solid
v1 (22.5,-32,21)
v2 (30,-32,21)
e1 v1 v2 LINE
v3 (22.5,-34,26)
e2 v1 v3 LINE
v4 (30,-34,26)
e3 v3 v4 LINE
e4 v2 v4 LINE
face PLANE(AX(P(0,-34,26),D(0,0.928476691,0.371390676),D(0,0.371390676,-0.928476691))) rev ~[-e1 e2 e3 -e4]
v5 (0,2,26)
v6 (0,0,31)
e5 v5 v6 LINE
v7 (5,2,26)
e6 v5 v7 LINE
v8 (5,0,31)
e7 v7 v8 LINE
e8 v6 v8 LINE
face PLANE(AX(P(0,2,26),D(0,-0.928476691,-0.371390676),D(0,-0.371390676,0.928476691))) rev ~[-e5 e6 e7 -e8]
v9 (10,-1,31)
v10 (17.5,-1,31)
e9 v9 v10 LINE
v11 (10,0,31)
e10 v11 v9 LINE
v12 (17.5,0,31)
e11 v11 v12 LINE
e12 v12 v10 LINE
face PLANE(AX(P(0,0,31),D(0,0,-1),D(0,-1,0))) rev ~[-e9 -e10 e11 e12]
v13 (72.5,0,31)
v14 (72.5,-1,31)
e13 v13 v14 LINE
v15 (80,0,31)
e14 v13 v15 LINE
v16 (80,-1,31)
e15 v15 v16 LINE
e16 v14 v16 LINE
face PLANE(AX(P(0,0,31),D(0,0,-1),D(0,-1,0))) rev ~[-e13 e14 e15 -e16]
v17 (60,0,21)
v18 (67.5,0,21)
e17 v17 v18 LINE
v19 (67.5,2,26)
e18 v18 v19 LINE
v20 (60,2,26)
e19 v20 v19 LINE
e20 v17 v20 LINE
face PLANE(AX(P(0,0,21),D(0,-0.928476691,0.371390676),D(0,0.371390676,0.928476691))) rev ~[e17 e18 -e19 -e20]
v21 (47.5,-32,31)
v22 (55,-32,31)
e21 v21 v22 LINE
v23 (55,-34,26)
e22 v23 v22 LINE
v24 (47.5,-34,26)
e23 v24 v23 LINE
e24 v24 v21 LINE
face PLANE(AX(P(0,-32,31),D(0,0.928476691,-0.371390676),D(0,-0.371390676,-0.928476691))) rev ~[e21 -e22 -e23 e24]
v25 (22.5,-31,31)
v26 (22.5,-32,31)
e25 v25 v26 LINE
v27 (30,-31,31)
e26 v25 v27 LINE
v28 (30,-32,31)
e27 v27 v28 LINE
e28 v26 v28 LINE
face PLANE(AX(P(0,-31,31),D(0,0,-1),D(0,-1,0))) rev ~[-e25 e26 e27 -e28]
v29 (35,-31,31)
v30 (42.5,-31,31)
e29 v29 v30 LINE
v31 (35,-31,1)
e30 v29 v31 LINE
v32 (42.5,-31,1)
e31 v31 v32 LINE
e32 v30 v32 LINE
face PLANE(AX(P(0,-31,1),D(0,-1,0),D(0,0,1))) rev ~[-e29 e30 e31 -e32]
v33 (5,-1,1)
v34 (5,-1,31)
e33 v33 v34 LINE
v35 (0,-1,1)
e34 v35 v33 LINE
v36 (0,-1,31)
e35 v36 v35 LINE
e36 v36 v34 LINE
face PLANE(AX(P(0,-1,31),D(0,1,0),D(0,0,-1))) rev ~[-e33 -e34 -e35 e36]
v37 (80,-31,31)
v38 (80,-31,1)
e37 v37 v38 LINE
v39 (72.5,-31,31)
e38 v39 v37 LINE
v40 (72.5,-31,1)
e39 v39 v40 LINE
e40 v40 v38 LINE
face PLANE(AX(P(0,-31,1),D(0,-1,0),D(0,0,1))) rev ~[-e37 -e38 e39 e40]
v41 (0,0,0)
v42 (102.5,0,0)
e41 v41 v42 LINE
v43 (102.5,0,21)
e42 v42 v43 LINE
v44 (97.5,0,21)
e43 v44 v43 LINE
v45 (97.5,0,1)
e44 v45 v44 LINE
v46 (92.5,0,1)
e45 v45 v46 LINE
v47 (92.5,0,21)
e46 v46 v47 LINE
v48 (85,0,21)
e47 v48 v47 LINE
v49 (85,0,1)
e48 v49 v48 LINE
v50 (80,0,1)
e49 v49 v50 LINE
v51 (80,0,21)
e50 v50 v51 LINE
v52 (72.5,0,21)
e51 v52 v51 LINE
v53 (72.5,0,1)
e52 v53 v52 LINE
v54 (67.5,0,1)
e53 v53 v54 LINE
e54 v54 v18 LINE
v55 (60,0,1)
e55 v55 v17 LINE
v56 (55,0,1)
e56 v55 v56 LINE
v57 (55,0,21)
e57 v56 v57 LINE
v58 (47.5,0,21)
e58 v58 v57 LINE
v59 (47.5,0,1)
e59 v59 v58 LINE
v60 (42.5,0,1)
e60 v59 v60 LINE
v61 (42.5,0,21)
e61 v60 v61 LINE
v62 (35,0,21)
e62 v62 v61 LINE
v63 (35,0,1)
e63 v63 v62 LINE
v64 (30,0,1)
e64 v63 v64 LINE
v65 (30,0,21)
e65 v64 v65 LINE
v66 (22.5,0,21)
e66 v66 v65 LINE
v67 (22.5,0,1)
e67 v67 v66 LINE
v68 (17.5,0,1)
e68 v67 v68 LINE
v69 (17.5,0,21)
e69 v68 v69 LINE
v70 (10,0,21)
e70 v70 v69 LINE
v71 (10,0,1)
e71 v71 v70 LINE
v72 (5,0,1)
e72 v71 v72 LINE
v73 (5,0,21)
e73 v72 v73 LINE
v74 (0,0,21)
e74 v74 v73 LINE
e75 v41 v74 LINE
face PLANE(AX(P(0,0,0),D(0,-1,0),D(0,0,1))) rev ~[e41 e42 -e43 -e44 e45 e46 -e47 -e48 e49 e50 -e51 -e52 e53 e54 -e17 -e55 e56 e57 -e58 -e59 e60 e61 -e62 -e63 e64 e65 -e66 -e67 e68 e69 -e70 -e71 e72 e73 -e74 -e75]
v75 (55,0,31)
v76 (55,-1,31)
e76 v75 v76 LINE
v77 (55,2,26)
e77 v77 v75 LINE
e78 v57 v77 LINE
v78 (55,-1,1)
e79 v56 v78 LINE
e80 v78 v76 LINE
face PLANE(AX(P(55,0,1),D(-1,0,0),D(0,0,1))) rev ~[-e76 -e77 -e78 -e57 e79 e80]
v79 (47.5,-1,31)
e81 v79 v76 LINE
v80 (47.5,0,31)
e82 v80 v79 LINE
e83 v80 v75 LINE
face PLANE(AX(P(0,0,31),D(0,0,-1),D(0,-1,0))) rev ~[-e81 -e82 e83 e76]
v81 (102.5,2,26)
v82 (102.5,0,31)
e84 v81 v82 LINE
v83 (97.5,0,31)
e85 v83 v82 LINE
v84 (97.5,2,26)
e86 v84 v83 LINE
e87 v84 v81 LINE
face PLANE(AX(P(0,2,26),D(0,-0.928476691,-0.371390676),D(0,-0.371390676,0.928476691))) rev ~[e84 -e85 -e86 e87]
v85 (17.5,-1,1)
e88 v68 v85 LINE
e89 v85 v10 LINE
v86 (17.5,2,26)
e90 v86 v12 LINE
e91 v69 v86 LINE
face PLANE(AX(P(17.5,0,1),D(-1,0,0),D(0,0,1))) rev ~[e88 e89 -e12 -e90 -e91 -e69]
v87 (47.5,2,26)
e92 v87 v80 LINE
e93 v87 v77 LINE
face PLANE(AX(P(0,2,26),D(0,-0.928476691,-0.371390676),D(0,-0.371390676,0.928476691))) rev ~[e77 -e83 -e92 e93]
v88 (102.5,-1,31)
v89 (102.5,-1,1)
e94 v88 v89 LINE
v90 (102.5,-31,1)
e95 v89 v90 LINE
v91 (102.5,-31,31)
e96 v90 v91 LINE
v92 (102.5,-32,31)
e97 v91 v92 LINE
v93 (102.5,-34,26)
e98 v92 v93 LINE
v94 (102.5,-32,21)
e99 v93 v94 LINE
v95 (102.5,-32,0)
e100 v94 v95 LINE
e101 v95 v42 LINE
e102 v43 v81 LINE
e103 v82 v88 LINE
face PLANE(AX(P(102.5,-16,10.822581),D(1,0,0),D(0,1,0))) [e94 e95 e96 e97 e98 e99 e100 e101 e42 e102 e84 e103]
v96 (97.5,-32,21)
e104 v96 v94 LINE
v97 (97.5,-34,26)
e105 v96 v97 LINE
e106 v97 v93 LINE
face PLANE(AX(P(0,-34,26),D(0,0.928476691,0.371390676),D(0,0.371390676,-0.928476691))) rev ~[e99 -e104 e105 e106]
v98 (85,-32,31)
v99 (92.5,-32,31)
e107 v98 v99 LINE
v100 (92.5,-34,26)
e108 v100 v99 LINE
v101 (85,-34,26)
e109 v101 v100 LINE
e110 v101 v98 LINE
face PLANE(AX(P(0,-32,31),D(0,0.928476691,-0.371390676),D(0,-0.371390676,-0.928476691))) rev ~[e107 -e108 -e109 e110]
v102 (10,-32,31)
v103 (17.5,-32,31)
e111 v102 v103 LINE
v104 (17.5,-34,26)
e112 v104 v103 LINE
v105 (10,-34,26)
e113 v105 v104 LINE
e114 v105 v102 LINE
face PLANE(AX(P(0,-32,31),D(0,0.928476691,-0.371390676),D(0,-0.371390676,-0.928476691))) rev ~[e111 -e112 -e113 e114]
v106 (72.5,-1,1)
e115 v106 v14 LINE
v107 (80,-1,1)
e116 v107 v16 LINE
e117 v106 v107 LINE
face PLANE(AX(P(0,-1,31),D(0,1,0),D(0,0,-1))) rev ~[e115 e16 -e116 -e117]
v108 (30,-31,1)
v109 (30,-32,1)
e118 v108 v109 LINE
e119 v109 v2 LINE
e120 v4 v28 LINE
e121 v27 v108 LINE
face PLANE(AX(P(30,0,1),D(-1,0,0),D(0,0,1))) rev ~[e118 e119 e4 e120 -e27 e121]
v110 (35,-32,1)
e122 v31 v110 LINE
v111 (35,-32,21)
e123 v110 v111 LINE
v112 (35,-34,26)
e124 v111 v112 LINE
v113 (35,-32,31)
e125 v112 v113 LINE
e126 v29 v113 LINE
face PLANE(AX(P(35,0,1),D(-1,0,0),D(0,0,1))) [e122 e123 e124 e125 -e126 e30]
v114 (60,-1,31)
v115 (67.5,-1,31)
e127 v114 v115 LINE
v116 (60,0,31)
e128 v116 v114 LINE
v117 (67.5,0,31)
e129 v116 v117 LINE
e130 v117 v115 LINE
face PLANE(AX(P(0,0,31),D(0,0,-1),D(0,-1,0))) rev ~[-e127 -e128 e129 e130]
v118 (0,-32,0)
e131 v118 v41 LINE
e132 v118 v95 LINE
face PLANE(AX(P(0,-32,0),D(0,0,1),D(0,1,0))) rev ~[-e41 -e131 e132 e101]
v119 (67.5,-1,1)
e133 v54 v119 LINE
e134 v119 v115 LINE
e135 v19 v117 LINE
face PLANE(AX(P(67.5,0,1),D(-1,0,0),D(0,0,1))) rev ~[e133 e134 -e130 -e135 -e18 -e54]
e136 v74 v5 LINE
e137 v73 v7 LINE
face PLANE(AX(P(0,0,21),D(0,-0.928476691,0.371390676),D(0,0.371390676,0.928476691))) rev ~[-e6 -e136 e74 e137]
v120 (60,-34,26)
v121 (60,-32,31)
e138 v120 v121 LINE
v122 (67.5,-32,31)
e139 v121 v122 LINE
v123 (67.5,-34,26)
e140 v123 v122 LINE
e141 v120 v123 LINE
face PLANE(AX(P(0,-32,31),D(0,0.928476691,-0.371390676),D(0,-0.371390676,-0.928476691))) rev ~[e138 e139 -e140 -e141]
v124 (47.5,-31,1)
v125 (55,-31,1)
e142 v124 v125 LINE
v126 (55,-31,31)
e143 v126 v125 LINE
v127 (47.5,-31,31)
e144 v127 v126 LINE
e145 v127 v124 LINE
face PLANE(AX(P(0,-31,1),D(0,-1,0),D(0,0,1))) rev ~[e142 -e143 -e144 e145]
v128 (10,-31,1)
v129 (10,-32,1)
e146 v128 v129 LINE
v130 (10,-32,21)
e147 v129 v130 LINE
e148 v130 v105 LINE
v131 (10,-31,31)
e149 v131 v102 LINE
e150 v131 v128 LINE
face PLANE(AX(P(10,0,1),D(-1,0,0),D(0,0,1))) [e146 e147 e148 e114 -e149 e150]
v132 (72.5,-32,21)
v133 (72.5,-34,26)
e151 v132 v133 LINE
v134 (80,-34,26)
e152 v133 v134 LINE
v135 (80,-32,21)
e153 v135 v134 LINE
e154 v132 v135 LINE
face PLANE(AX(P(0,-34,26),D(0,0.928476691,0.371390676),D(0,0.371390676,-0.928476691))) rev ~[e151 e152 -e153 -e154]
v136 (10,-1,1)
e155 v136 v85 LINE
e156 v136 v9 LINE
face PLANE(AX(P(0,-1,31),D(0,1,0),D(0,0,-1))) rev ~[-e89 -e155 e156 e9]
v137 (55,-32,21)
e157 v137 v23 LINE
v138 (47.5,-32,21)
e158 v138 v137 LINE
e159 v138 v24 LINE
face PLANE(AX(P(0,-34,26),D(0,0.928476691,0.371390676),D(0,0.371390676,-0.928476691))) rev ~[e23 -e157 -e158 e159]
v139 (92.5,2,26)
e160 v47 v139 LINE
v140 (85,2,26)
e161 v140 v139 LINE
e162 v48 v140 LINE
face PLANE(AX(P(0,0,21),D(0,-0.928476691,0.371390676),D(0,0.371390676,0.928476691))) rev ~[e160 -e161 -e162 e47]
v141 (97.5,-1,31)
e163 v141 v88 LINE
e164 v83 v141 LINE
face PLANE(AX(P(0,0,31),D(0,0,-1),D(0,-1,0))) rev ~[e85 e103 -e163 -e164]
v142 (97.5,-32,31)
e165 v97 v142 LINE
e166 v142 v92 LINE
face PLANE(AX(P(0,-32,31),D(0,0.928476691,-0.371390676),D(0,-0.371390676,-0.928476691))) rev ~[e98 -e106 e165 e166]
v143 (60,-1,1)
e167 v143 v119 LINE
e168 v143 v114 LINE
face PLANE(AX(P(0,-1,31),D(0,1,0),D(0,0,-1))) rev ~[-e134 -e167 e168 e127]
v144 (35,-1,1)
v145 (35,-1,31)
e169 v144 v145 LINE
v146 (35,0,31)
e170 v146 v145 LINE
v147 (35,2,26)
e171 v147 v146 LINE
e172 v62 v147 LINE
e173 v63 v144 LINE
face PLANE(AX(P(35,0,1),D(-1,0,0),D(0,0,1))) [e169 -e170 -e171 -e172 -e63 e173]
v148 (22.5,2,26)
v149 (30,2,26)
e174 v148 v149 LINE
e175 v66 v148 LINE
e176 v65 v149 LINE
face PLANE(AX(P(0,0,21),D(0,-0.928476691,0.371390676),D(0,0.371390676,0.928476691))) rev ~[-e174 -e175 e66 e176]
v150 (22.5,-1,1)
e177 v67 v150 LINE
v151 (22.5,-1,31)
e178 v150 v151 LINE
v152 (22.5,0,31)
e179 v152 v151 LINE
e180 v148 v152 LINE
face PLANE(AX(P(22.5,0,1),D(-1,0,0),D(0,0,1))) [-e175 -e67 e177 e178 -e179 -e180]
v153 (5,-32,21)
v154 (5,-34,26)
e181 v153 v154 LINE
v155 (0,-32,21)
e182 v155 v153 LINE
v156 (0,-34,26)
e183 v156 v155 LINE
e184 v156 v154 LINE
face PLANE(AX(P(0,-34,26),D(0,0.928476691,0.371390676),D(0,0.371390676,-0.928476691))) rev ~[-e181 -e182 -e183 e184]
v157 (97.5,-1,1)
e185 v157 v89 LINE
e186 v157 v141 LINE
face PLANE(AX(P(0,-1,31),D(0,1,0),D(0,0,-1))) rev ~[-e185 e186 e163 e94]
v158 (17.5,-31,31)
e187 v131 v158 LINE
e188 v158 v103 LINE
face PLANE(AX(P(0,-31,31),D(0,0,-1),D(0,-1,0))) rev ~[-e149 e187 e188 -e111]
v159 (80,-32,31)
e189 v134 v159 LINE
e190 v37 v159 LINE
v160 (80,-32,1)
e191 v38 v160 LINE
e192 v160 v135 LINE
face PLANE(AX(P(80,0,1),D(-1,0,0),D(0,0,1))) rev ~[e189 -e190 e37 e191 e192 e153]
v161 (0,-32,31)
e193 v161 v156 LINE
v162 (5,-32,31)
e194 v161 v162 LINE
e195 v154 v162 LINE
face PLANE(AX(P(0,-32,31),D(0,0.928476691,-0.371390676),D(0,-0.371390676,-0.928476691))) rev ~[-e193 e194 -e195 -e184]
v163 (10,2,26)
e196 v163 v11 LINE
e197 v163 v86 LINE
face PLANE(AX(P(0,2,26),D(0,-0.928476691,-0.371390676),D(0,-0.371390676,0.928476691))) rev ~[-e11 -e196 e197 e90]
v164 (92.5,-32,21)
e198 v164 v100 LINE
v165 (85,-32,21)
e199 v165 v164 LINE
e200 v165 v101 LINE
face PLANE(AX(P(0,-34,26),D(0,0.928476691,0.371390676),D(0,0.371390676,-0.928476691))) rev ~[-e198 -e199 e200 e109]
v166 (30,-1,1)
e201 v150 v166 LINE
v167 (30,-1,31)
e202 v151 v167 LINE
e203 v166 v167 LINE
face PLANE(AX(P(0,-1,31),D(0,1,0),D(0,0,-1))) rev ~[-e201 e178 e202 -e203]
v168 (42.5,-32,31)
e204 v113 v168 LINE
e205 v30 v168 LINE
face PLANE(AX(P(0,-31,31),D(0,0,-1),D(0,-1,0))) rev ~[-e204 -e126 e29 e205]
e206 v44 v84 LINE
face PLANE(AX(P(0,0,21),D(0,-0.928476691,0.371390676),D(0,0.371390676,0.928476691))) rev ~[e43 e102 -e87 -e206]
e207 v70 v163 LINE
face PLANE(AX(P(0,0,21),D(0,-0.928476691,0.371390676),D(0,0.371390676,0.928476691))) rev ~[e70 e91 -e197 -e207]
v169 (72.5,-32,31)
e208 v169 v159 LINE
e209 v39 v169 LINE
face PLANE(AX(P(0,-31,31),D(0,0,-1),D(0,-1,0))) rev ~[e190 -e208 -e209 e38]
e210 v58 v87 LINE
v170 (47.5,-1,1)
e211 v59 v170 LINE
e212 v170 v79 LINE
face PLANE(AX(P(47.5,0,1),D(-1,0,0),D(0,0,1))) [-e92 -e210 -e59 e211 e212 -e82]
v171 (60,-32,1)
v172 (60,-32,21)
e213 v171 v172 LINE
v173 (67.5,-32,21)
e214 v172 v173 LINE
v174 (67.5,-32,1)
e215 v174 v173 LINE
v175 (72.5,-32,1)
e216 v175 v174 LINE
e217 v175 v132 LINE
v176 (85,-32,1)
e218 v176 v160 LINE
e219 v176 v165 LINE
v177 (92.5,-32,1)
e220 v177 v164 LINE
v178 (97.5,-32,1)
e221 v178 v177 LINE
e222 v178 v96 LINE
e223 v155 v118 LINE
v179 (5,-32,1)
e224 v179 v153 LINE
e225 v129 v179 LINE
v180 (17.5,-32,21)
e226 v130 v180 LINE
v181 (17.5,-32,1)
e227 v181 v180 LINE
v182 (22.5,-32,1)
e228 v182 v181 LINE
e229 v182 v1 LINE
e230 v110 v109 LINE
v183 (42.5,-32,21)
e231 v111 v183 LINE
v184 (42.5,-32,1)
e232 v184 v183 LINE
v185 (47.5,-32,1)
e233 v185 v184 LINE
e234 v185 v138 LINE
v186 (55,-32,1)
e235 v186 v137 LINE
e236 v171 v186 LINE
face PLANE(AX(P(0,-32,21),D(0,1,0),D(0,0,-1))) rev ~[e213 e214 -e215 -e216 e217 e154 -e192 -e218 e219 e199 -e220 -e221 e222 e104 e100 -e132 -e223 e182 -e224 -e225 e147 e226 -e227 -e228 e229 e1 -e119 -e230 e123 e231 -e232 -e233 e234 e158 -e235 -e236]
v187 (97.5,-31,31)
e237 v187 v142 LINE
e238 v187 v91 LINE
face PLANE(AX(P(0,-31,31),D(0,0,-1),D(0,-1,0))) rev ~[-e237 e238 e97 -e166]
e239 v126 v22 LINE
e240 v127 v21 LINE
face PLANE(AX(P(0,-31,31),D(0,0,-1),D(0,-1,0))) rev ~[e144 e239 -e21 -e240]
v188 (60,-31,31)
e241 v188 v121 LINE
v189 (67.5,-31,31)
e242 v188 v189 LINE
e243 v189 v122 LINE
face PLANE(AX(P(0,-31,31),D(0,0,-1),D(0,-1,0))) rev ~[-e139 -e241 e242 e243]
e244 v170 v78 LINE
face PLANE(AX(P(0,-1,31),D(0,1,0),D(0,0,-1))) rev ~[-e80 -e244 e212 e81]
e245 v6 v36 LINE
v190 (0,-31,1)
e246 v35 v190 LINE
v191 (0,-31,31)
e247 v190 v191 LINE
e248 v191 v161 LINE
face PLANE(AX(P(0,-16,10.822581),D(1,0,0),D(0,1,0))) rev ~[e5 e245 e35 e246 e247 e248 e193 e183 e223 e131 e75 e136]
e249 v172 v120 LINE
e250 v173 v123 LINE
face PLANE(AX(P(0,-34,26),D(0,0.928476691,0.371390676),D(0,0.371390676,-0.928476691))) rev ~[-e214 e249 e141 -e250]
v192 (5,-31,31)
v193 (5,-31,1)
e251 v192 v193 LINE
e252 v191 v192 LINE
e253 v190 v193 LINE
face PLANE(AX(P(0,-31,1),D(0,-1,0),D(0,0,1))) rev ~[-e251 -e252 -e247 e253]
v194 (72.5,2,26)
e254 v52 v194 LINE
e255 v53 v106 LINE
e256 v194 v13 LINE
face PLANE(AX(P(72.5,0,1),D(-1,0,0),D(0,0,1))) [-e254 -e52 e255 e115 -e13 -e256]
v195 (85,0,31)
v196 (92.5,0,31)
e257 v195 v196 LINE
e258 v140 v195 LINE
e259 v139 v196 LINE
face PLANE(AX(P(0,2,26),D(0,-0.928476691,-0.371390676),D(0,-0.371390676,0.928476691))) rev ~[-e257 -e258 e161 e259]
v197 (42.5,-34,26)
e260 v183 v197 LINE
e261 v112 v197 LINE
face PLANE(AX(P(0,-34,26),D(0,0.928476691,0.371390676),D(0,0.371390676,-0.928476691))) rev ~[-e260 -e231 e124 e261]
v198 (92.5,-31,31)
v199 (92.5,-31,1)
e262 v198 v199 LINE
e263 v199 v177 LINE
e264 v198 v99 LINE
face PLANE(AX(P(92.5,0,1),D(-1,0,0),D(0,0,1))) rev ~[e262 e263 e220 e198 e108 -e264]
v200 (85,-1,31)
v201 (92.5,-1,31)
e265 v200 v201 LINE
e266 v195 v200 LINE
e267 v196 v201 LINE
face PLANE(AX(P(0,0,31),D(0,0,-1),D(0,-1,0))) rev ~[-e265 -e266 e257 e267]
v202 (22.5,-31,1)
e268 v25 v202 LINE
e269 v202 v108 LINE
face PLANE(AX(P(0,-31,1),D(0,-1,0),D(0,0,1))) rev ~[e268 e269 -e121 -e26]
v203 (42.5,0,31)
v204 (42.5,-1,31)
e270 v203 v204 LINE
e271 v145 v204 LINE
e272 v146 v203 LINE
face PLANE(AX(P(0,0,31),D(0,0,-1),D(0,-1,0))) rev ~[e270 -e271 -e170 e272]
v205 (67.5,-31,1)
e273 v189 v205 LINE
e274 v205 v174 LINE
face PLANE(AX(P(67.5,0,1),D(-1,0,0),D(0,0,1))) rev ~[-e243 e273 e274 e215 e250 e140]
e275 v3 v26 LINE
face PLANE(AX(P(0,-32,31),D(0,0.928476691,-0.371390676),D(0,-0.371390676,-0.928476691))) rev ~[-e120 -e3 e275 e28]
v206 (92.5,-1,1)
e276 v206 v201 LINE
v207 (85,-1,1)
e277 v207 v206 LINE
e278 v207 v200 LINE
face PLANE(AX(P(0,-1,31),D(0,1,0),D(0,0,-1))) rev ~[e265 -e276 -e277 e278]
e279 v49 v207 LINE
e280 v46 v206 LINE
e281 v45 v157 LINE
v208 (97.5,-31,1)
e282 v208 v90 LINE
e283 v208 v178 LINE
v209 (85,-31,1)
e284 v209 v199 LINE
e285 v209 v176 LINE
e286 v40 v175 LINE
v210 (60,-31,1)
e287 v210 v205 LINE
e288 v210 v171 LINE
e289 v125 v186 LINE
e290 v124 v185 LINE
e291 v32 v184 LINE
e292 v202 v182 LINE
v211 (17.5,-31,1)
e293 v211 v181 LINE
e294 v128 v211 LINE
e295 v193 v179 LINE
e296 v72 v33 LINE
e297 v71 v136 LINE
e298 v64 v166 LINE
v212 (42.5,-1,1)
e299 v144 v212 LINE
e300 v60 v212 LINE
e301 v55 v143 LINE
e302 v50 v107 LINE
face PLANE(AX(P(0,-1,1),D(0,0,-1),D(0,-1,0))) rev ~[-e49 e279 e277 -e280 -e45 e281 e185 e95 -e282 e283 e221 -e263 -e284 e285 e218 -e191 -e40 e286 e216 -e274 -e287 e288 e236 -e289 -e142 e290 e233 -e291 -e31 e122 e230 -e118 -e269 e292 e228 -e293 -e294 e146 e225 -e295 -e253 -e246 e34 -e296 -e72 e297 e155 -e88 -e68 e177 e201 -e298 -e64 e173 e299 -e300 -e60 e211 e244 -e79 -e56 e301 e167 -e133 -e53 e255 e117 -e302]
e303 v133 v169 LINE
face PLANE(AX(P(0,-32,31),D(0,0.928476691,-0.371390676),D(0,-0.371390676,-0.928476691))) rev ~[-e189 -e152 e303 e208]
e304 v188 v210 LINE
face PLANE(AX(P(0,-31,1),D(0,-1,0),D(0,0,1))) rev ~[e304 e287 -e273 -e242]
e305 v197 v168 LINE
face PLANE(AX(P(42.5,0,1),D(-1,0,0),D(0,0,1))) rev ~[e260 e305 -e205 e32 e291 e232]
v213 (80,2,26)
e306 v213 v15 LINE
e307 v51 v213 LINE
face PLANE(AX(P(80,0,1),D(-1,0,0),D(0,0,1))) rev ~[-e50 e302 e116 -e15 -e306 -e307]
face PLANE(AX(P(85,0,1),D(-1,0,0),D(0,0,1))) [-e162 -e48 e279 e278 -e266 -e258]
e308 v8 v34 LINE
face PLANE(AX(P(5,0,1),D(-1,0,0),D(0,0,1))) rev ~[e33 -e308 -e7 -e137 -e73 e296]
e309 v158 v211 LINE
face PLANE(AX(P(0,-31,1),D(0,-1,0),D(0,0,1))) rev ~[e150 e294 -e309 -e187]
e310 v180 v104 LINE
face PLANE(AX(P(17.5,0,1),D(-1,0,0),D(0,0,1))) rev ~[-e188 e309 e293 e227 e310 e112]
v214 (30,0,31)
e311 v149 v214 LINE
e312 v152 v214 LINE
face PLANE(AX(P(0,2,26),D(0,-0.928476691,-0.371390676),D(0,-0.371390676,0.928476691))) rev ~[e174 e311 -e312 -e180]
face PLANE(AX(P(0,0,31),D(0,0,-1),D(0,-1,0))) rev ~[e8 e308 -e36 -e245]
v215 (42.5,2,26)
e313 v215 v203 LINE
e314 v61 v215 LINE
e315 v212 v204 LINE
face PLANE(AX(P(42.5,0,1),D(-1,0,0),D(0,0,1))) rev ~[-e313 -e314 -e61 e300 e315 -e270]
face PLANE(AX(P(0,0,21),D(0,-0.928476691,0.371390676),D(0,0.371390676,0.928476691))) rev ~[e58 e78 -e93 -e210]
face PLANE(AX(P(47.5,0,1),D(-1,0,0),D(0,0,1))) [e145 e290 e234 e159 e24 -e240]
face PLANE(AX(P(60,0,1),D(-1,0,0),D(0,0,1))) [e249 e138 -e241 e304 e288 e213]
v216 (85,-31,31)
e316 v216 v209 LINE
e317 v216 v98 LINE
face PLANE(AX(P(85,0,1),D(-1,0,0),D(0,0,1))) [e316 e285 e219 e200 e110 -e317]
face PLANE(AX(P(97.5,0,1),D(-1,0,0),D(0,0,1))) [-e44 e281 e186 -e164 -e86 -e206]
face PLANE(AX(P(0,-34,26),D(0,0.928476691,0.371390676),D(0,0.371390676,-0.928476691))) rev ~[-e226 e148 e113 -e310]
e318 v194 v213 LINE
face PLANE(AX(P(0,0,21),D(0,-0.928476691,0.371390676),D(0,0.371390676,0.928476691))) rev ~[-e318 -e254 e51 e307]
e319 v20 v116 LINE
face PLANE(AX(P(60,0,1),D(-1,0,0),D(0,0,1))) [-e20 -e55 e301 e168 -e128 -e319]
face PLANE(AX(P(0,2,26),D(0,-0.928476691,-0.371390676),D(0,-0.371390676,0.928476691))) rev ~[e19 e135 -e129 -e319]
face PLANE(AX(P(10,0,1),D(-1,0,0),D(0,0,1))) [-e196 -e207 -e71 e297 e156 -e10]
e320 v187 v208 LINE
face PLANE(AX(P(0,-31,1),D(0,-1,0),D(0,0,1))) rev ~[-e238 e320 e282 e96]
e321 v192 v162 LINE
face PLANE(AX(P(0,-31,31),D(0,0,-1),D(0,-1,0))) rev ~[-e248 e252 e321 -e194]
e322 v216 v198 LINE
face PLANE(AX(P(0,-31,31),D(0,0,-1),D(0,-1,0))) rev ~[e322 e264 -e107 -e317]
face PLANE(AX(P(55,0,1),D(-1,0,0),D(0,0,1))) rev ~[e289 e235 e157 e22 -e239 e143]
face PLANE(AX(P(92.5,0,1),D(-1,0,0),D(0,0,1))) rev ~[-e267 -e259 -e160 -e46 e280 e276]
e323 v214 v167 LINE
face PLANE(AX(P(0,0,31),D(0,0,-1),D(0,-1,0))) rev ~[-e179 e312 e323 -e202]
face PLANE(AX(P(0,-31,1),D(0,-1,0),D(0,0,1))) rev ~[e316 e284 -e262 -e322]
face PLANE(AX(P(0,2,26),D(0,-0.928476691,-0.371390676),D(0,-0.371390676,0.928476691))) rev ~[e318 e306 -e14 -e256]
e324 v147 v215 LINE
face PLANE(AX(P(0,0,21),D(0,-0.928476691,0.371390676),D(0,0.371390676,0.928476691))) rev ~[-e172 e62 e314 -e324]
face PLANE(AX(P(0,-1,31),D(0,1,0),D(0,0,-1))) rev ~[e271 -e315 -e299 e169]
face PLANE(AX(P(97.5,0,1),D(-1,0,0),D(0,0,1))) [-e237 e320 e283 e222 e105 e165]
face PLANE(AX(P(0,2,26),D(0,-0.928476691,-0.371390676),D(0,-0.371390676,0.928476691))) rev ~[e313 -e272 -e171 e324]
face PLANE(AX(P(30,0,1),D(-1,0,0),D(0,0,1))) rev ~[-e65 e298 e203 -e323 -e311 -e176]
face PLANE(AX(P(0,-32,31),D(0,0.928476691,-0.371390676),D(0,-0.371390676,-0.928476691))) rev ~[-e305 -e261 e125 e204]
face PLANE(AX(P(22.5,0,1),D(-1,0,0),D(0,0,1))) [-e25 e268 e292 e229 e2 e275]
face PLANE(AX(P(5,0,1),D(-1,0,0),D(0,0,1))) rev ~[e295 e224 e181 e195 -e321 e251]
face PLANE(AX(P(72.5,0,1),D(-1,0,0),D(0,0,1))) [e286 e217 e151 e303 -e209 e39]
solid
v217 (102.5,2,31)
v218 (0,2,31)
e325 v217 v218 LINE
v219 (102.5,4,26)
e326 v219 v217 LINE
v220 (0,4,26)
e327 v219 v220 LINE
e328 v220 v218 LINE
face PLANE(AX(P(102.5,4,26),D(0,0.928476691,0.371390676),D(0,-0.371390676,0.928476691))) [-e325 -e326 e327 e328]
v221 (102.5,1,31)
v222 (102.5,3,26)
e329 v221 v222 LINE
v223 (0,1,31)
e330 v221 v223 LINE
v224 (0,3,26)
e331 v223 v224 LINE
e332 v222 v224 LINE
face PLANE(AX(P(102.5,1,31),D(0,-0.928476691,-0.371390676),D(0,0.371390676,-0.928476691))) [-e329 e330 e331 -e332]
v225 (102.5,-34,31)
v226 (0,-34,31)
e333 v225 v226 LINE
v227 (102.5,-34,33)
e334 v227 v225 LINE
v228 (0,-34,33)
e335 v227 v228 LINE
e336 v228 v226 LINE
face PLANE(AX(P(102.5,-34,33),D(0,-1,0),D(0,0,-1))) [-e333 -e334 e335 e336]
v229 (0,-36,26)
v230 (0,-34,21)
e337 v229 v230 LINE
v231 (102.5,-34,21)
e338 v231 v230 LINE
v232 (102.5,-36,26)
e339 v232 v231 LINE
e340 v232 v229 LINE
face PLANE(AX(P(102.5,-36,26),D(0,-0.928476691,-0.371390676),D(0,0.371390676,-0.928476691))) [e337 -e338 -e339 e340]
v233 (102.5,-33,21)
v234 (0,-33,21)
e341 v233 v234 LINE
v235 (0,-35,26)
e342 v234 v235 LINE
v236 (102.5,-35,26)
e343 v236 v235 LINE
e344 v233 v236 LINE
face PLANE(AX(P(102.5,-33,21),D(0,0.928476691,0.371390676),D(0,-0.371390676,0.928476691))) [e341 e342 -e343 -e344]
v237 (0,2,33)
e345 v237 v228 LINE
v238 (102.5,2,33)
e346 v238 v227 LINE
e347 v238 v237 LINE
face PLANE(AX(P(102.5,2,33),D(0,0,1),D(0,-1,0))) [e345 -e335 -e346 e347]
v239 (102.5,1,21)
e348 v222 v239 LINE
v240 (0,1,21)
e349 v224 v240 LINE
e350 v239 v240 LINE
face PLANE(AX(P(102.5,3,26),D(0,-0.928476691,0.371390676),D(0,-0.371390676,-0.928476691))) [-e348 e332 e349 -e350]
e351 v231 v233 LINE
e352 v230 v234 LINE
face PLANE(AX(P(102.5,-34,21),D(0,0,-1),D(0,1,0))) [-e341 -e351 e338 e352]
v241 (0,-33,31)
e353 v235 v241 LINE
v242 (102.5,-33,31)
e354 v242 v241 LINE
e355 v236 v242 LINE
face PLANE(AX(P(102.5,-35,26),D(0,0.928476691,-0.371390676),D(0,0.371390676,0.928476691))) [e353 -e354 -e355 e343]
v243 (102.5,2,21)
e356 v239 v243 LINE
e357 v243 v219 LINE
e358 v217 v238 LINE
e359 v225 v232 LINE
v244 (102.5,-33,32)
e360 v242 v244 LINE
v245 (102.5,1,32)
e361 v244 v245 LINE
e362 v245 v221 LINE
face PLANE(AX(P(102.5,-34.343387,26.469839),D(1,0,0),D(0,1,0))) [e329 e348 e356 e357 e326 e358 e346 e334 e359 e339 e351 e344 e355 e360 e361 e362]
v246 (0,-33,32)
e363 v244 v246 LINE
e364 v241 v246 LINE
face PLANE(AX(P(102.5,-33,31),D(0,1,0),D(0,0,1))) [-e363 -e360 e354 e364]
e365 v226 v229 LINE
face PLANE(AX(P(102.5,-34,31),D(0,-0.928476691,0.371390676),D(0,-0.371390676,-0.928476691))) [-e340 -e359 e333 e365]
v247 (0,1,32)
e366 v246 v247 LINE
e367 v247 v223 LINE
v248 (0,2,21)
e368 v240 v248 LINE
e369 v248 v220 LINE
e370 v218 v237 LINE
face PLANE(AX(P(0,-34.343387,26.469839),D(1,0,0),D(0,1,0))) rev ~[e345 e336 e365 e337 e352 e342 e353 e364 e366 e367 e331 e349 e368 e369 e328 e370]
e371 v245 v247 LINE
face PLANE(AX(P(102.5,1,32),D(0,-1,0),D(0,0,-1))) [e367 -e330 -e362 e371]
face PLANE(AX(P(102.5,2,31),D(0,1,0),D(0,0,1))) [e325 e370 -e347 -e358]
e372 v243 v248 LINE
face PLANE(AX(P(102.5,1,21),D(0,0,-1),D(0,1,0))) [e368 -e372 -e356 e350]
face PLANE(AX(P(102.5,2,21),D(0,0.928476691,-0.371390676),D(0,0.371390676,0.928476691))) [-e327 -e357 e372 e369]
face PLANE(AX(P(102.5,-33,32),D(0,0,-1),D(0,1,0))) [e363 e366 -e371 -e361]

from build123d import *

# Parameters (mm, degrees)
F1_DEPTH = 102.5
F2_W     = 5
F2_H     = 30
F3_DEPTH = 34.001
F4_DEPTH = 2.001
F6_DEPTH = 102.5


with BuildPart() as f1:
    # F0 (on Right) → F1 (new body)
    with BuildSketch(Plane.YZ):
        Polygon((-31, 31), (-32, 31), (-32, 26), (-32, 21), (-32, 0), (0, 0), (0, 21), (0, 26), (0, 31), (-1, 31), (-1, 1), (-31, 1), align=None)
        Polygon((-32, 26), (-32, 31), (-34, 26), align=None)
        Polygon((-32, 21), (-32, 26), (-34, 26), align=None)
        Polygon((0, 26), (0, 21), (2, 26), align=None)
        Polygon((2, 26), (0, 31), (0, 26), align=None)
    extrude(amount=F1_DEPTH)

    # F2 (on face) → F3 (cut, through all)
    with BuildSketch(Plane(origin=(0, 0, 0), x_dir=(-1, 0, 0), z_dir=(0, 1, 0))):
        with Locations((-95, 16)):
            Rectangle(F2_W, F2_H)
        with Locations((-82.5, 16)):
            Rectangle(F2_W, F2_H)
        with Locations((-70, 16)):
            Rectangle(F2_W, F2_H)
        with Locations((-57.5, 16)):
            Rectangle(F2_W, F2_H)
        with Locations((-45, 16)):
            Rectangle(F2_W, F2_H)
        with Locations((-32.5, 16)):
            Rectangle(F2_W, F2_H)
        with Locations((-20, 16)):
            Rectangle(F2_W, F2_H)
        with Locations((-7.5, 16)):
            Rectangle(F2_W, F2_H)
    extrude(amount=-F3_DEPTH, mode=Mode.SUBTRACT)

    # F2 (on face) → F4 (cut, through all)
    with BuildSketch(Plane(origin=(0, 0, 0), x_dir=(-1, 0, 0), z_dir=(0, 1, 0))):
        with Locations((-95, 16)):
            Rectangle(F2_W, F2_H)
        with Locations((-82.5, 16)):
            Rectangle(F2_W, F2_H)
        with Locations((-70, 16)):
            Rectangle(F2_W, F2_H)
        with Locations((-57.5, 16)):
            Rectangle(F2_W, F2_H)
        with Locations((-45, 16)):
            Rectangle(F2_W, F2_H)
        with Locations((-32.5, 16)):
            Rectangle(F2_W, F2_H)
        with Locations((-20, 16)):
            Rectangle(F2_W, F2_H)
        with Locations((-7.5, 16)):
            Rectangle(F2_W, F2_H)
    extrude(amount=F4_DEPTH, mode=Mode.SUBTRACT)


with BuildPart() as f6:
    # F5 (on face) → F6 (new body, through all)
    with BuildSketch(Plane.YZ.offset(102.5)):
        Polygon((-34, 21), (-33, 21), (-35, 26), (-33, 31), (-33, 32), (-34, 32), (-34, 31), (-36, 26), align=None)
        Polygon((-34, 32), (-33, 32), (1, 32), (2, 32), (2, 33), (-34, 33), align=None)
        Polygon((2, 32), (1, 32), (1, 31), (3, 26), (1, 21), (2, 21), (4, 26), (2, 31), align=None)
    extrude(amount=-F6_DEPTH)


solid = Compound([f1.part, f6.part])
